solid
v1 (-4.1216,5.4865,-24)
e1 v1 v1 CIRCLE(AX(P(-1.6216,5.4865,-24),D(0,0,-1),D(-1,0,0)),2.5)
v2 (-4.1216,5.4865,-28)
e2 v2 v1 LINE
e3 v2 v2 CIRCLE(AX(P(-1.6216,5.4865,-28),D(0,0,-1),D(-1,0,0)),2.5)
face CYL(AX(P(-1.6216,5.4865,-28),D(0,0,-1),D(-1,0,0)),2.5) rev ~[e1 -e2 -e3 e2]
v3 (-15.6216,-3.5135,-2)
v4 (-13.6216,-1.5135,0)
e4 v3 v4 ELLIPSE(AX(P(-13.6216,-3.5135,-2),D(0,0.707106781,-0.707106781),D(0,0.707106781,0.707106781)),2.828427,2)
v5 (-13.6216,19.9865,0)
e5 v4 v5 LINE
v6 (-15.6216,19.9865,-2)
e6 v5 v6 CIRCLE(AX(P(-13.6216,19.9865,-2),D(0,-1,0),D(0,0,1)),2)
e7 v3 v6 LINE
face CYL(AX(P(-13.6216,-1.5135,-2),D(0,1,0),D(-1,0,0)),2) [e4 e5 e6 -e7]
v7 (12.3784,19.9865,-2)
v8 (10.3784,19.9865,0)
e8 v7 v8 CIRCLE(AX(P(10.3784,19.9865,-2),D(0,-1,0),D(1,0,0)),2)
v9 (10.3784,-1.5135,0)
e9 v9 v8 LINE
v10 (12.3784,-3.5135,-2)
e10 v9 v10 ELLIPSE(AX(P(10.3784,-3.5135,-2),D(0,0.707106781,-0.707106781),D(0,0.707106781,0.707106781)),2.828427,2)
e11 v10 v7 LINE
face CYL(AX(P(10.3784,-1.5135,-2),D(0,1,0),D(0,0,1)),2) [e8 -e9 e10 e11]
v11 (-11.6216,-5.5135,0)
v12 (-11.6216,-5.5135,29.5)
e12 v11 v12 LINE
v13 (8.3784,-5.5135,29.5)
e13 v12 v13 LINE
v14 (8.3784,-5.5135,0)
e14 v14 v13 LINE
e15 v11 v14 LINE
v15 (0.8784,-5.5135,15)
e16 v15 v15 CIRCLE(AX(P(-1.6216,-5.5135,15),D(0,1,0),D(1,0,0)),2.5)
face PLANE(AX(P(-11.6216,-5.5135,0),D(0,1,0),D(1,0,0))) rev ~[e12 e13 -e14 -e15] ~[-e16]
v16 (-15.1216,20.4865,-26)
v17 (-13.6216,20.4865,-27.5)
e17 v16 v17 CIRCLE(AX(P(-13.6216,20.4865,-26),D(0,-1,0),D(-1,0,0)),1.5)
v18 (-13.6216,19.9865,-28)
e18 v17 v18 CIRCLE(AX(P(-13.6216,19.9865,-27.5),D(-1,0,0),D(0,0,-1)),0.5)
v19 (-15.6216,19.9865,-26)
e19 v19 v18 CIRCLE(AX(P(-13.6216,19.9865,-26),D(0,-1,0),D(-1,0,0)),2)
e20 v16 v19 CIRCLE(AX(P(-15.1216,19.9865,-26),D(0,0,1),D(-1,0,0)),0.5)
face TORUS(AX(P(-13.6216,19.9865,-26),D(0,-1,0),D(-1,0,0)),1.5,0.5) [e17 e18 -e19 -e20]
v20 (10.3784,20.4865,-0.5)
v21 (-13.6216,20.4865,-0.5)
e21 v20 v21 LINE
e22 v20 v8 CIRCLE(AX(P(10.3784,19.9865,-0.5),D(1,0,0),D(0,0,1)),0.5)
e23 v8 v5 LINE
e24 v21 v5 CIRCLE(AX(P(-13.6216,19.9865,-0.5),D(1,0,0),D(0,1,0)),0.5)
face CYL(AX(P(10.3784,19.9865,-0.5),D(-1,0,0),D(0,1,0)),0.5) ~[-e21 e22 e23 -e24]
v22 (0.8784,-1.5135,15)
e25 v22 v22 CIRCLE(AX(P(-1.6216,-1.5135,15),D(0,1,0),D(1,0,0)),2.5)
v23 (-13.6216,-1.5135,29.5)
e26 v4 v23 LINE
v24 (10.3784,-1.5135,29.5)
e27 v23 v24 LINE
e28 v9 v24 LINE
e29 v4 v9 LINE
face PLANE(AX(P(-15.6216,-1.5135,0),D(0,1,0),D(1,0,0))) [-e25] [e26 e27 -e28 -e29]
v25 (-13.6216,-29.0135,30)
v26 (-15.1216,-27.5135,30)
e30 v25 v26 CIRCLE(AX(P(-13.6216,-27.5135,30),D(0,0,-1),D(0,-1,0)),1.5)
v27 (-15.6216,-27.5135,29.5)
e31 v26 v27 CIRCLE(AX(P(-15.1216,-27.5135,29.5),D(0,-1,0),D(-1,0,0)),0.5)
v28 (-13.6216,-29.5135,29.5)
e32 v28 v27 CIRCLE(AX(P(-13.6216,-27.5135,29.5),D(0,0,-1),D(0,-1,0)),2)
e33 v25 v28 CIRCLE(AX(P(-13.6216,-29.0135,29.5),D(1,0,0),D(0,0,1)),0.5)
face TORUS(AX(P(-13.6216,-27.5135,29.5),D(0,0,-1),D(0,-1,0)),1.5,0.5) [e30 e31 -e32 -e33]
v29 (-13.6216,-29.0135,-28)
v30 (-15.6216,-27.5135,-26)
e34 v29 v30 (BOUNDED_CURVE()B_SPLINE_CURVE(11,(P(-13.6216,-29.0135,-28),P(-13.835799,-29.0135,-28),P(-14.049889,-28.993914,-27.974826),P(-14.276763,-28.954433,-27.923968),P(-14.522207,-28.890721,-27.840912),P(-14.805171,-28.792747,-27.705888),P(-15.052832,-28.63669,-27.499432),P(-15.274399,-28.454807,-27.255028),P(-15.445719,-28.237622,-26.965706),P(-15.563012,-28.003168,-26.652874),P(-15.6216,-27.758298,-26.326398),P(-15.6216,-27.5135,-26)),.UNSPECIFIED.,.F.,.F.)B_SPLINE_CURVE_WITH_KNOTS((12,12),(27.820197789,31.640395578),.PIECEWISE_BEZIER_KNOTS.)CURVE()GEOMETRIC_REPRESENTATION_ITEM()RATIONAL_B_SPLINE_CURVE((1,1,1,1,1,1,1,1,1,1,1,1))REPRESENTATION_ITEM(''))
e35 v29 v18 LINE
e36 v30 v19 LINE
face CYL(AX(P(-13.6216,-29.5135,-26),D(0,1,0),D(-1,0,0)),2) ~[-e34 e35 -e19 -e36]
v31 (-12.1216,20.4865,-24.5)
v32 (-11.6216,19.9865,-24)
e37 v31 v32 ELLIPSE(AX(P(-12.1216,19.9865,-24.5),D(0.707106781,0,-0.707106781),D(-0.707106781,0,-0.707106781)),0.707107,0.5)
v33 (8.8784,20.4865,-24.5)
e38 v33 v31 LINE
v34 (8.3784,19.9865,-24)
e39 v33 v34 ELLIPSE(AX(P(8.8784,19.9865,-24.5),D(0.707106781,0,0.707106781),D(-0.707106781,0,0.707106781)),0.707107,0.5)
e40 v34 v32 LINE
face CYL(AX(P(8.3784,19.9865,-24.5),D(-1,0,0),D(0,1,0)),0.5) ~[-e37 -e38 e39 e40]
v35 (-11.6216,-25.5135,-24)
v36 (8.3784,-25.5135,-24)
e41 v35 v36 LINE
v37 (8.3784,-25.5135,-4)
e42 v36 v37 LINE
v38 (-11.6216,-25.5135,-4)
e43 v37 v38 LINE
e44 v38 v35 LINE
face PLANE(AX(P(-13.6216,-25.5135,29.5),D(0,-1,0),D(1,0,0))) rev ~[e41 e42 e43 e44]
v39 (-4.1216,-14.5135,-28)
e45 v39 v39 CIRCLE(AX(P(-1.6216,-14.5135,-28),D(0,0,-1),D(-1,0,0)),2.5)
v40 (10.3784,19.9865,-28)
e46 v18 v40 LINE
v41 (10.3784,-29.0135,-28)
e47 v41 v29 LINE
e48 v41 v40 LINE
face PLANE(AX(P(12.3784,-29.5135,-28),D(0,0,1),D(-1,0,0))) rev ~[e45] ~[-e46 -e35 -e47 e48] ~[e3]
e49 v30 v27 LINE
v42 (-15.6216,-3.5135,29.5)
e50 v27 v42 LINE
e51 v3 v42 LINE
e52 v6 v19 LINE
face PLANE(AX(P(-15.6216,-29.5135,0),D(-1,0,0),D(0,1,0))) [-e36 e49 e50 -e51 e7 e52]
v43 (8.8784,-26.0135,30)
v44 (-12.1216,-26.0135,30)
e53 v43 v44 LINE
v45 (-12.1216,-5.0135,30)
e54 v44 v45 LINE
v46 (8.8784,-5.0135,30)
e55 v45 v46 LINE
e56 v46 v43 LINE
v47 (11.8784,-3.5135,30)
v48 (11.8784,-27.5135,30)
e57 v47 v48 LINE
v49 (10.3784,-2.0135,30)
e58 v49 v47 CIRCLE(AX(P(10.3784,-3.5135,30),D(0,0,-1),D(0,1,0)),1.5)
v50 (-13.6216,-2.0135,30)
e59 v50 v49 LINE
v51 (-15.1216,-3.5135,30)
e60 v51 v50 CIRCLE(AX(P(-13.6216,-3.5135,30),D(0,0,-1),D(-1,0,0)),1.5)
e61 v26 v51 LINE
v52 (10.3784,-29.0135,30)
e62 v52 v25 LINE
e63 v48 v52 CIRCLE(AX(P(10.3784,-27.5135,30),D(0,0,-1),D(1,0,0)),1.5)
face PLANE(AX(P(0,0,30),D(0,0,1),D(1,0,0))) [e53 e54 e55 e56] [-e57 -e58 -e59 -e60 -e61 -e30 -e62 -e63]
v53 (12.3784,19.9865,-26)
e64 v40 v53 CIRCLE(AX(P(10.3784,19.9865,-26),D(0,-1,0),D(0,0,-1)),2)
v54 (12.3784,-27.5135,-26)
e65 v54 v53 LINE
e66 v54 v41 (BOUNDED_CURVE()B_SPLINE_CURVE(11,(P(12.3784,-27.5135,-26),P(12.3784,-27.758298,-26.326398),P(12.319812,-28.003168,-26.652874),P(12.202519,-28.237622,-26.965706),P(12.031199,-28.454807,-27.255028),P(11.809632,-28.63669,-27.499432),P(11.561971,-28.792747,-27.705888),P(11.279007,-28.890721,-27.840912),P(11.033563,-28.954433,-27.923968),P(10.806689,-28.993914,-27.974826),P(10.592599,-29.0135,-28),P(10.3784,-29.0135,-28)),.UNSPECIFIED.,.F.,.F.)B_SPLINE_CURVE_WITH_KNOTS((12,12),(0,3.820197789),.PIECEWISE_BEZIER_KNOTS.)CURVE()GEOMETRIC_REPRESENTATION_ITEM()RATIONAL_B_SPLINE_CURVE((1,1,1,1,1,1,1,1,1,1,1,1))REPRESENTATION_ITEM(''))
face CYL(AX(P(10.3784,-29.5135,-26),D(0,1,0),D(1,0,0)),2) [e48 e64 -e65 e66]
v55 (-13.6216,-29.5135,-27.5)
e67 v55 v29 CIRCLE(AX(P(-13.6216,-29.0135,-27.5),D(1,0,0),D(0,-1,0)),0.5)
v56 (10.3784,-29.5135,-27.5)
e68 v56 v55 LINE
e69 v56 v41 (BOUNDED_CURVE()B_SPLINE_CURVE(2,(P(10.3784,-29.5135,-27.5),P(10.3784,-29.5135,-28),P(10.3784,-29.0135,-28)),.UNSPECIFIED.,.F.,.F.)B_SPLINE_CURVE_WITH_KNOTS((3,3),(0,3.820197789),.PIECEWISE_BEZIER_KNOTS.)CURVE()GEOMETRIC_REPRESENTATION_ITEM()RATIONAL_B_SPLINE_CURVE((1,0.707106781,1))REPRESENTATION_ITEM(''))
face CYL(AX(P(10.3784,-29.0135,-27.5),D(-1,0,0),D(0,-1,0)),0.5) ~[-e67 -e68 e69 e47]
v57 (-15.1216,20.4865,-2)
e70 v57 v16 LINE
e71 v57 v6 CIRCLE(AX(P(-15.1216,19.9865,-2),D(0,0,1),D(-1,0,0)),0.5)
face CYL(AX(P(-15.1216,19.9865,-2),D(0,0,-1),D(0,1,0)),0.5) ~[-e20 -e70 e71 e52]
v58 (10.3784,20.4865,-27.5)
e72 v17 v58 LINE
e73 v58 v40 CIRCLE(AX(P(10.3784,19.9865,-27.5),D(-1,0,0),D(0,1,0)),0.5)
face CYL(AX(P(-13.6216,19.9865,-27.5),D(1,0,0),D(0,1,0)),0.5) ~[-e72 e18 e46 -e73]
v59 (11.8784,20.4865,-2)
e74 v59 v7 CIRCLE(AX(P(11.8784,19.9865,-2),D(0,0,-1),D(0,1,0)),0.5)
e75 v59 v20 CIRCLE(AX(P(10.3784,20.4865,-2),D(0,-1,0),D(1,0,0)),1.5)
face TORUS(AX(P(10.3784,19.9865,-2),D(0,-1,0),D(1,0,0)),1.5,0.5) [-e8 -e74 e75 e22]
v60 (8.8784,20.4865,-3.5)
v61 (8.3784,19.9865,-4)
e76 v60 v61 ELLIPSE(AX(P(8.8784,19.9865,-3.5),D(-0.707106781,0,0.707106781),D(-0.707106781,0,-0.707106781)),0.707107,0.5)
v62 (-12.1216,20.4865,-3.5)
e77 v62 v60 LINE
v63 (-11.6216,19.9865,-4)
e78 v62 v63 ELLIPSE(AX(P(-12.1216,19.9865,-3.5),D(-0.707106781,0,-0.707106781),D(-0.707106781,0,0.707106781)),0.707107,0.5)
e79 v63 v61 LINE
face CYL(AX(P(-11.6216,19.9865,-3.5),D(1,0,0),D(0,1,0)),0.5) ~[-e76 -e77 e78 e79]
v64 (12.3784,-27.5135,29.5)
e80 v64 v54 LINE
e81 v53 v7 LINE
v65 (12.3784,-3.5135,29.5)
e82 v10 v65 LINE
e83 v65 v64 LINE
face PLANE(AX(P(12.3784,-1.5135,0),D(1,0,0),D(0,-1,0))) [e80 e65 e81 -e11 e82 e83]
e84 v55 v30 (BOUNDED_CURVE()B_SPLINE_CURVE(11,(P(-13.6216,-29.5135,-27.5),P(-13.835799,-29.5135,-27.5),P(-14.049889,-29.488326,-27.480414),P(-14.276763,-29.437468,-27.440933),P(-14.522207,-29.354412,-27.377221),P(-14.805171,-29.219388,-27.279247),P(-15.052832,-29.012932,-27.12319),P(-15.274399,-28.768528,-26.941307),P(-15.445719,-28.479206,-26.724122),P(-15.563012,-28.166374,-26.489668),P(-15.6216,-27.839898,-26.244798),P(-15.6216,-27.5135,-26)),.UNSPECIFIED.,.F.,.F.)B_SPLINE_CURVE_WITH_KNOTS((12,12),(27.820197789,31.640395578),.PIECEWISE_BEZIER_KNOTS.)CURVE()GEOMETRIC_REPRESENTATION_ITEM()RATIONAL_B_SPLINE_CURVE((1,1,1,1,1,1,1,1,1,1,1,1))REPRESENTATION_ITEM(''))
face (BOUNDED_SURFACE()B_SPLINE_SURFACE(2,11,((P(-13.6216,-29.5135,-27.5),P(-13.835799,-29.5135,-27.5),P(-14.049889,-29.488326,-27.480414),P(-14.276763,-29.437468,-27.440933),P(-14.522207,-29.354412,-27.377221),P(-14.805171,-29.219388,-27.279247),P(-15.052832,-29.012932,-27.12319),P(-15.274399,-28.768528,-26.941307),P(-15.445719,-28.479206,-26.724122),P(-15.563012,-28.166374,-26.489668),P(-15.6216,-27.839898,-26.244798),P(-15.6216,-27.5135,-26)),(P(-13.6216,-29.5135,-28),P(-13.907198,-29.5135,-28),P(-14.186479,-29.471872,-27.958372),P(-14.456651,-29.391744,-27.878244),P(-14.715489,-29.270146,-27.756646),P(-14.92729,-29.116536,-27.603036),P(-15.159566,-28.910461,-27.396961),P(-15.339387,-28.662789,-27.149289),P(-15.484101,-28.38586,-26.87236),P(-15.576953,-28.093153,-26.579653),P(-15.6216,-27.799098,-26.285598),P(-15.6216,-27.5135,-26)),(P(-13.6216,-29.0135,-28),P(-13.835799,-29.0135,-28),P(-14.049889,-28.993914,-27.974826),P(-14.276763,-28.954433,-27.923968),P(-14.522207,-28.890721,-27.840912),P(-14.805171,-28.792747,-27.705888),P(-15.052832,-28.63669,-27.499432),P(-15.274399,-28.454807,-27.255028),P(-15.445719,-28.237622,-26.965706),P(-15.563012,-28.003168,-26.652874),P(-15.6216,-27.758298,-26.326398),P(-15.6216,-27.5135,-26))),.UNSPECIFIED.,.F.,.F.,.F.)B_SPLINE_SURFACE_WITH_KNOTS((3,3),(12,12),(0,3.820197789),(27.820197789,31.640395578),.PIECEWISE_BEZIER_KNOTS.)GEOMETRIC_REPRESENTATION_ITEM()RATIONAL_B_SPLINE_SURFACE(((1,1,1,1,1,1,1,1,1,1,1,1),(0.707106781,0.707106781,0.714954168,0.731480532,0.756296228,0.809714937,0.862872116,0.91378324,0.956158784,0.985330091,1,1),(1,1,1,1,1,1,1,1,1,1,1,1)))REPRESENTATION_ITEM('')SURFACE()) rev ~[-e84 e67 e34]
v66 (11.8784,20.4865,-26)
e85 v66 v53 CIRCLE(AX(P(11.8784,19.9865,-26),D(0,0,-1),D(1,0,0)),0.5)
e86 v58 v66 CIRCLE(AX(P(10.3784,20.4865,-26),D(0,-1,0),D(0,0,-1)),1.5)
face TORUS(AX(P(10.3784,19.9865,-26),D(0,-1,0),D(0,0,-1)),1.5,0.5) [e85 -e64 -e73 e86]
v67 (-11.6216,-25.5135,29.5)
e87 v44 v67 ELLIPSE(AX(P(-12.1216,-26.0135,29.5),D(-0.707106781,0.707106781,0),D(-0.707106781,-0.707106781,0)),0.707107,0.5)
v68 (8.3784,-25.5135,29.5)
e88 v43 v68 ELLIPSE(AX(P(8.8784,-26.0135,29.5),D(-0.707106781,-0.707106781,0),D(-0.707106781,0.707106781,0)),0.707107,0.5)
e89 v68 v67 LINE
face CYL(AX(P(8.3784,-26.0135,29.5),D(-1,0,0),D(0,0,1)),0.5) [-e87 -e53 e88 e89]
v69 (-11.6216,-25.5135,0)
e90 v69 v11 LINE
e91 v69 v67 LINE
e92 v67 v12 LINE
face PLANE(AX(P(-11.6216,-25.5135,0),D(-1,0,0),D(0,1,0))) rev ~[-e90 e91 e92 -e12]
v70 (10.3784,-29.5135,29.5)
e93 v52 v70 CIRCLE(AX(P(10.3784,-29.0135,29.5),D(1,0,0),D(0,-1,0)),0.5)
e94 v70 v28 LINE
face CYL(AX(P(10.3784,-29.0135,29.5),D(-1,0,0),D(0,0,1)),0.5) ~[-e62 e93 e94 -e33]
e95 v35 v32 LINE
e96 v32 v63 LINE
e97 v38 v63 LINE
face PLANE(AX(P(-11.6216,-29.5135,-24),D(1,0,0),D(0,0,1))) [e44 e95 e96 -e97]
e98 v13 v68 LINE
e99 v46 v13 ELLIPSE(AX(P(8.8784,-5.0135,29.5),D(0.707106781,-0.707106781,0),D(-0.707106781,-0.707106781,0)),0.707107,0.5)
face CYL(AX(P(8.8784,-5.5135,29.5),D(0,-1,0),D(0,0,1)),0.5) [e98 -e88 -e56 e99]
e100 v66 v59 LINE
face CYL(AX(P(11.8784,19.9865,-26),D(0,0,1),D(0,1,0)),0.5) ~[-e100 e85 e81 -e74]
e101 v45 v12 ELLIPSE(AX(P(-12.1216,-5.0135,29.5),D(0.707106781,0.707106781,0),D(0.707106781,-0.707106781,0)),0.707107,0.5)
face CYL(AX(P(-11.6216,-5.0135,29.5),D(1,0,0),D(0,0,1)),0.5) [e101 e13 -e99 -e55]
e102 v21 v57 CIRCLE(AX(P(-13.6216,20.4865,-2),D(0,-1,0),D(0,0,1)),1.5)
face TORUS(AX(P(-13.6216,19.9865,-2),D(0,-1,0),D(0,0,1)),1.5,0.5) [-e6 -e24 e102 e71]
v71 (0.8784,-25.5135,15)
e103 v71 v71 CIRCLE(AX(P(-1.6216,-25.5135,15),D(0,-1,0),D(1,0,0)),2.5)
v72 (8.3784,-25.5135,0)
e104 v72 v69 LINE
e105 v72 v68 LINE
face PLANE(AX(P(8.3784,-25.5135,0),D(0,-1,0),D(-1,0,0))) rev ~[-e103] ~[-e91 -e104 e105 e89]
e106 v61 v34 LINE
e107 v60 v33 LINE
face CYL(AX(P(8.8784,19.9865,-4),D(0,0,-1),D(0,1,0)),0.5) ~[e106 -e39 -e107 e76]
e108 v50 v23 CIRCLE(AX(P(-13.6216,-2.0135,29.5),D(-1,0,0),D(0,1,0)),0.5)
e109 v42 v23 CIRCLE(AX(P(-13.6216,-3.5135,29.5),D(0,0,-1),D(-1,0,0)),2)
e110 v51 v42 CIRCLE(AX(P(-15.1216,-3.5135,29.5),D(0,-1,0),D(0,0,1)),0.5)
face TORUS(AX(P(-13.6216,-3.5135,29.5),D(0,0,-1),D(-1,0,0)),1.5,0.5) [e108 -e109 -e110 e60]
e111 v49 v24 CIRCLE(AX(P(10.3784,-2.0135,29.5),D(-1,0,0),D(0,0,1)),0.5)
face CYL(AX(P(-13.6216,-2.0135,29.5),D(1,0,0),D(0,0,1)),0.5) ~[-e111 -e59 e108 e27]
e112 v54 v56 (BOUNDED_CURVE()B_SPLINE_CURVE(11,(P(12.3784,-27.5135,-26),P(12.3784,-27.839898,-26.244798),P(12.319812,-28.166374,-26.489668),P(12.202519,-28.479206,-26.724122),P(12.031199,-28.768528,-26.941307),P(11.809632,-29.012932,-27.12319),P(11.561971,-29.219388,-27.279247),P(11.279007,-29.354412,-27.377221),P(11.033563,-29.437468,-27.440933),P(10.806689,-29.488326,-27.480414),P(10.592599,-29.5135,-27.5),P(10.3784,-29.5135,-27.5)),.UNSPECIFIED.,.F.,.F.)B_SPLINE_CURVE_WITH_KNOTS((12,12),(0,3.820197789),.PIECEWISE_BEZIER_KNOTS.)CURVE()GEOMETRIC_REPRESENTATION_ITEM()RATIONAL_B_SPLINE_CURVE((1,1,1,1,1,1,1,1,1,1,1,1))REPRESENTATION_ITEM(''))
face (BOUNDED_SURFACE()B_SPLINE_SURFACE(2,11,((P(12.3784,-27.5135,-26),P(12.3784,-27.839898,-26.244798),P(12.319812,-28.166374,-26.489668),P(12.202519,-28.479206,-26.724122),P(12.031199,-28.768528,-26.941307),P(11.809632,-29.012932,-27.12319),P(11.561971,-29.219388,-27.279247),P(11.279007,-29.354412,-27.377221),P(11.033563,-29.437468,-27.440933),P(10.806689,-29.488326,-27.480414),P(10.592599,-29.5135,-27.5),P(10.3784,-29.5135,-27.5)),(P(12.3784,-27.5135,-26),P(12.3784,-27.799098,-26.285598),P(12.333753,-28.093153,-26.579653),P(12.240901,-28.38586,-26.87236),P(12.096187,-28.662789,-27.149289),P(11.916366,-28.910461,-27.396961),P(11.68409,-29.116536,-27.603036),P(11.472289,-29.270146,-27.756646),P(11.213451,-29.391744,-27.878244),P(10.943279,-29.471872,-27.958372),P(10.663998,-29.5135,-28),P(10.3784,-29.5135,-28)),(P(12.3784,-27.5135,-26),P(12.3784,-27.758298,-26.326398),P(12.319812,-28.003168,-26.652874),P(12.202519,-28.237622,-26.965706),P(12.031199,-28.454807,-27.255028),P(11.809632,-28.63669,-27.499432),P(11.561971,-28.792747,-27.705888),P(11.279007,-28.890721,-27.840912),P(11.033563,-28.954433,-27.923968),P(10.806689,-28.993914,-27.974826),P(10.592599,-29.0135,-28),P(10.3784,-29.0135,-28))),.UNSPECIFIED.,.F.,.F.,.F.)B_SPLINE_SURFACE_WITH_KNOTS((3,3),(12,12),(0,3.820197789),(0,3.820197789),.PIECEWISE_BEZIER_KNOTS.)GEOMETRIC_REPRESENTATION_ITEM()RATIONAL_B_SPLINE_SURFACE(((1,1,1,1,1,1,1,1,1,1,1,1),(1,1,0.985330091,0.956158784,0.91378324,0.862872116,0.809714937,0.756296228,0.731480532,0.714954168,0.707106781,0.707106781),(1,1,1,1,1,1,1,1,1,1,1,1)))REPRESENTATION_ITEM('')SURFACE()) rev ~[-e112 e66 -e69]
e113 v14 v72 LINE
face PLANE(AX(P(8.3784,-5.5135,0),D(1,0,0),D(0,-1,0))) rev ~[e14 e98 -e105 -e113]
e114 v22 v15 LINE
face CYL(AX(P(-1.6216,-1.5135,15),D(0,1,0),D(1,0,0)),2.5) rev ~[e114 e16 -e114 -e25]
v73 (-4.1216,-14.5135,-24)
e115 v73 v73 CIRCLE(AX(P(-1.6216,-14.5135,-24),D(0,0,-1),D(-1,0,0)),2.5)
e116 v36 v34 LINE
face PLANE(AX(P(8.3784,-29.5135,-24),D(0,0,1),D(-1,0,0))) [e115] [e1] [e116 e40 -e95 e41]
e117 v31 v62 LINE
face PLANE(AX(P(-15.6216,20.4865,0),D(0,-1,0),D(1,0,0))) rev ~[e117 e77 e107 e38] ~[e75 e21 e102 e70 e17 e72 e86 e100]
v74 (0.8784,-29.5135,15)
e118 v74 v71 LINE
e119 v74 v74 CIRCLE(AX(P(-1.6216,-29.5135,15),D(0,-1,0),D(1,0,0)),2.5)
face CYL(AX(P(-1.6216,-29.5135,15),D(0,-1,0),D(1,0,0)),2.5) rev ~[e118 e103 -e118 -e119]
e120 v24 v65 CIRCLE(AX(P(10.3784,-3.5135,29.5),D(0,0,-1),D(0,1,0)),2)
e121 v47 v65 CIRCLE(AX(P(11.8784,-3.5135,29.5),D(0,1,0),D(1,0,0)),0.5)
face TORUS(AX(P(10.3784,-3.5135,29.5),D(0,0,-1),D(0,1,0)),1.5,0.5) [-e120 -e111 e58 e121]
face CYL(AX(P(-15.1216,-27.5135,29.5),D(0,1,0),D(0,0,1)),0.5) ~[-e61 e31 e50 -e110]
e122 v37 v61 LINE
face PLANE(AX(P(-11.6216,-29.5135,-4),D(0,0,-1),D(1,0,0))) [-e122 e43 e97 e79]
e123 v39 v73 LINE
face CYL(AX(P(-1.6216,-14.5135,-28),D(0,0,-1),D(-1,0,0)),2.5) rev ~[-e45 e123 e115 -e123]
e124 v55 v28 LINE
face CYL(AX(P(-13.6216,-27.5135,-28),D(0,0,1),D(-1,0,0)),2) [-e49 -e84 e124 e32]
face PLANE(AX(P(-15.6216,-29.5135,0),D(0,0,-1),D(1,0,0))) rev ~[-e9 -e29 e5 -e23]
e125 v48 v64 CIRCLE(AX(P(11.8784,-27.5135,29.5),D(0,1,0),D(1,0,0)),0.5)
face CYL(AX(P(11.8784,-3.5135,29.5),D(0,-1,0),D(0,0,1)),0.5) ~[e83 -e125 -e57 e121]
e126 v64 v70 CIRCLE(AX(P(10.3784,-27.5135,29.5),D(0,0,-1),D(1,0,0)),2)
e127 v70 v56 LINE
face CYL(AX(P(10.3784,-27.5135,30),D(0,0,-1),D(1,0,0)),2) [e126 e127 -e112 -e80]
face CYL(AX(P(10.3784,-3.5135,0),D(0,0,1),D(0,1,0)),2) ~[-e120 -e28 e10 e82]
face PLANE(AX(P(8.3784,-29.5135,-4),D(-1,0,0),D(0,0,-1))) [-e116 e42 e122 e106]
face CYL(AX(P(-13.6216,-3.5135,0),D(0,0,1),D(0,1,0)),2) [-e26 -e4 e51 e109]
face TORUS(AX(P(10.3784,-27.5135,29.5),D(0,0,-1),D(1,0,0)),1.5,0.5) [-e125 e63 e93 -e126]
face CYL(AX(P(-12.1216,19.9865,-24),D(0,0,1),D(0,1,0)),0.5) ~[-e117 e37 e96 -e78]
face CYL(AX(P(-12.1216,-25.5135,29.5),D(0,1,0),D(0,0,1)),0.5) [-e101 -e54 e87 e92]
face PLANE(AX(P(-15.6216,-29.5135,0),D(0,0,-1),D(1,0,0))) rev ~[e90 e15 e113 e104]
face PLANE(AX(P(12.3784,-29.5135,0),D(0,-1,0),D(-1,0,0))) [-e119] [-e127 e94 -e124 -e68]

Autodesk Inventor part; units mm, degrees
sketch "Sketch1" plane through (0, 0, 0) normal (0, 0, 1) x (1, 0, 0)
  line L0 (-11.6216, -5.5135) -> (8.3784, -5.5135)
  line L1 (8.3784, -5.5135) -> (8.3784, -25.5135)
  line L2 (8.3784, -25.5135) -> (-11.6216, -25.5135)
  line L3 (-11.6216, -25.5135) -> (-11.6216, -5.5135)
  line L4 (-15.6216, -1.5135) -> (12.3784, -1.5135)
  line L5 (12.3784, -1.5135) -> (12.3784, -29.5135)
  line L6 (12.3784, -29.5135) -> (-15.6216, -29.5135)
  line L7 (-15.6216, -29.5135) -> (-15.6216, -1.5135)
  point P0 (0, 0)
  dimension "d0" = 20
  dimension "d1" = 20
  dimension "d2" = 4
  dimension "d3" = 4
  dimension "d4" = 4
  dimension "d5" = 4
extrude "Extrusion1" add sketch "Sketch1" along normal blind 30
ref_plane "Work Plane3" through (-15.6216, -29.5135, 0) normal (0, -1, 0) x (1, 0, 0)
sketch "Sketch2" plane through (-15.6216, -29.5135, 0) normal (0, -1, 0) x (1, 0, 0)
  line L0 (0, 0) -> (28, 0)
  line L1 (28, 0) -> (28, -28)
  line L2 (28, -28) -> (0, -28)
  line L3 (0, -28) -> (0, 0)
  line L4 (24, -24) -> (4, -24)
  line L5 (4, -24) -> (4, -4)
  line L6 (4, -4) -> (24, -4)
  line L7 (24, -4) -> (24, -24)
  point P0 (15.6216, 0)
  point P1 (0, -14)
  dimension "d10" = 28
  dimension "d11" = 28
  dimension "d12" = 4
  dimension "d13" = 4
  dimension "d14" = 4
  dimension "d15" = 4
extrude "Extrusion2" add sketch "Sketch2" against normal blind 50
ref_plane "Work Plane4" through (12.3784, -29.5135, -28) normal (0, 0, -1) x (-1, 0, 0)
sketch "Sketch3" plane through (12.3784, -29.5135, -28) normal (0, 0, -1) x (-1, 0, 0)
  circle A0 centre (14, 35) radius 2.5
  circle A1 centre (14, 15) radius 2.5
  line L0 (28, 0) -> (28, 50) projected
  line L1 (28, 0) -> (0, 0) projected
  point P0 (12.3784, 29.5135)
  dimension "d19" = 14
  dimension "d20" = 14
  dimension "d21" = 20
  dimension "d22" = 15
  dimension "d23" = 5
  dimension "d24" = 5
ref_plane "Work Plane5" through (-15.6216, -1.5135, 30) normal (0, 1, 0) x (1, 0, 0)
sketch "Sketch4" plane through (-15.6216, -1.5135, 30) normal (0, 1, 0) x (1, 0, 0)
  circle A0 centre (14, 15) radius 2.5
  line L0 (28, 30) -> (28, 0) projected
  line L1 (28, 0) -> (0, 0) projected
  point P0 (15.6216, 30)
  dimension "d26" = 5
  dimension "d27" = 14
  dimension "d28" = 15
ref_plane "Work Plane6" through (-15.6216, -29.5135, 30) normal (0, -1, 0) x (1, 0, 0)
sketch "Sketch5" plane through (-15.6216, -29.5135, 30) normal (0, -1, 0) x (1, 0, 0)
  circle A0 centre (14, -15) radius 2.5
  line L0 (0, -30) -> (0, 0) projected
  line L1 (24, 0) -> (4, 0) projected
  point P0 (15.6216, -30)
  dimension "d30" = 5
  dimension "d31" = 14
  dimension "d32" = 15
extrude "Extrusion3" cut sketch "Sketch4" against normal blind 4
extrude "Extrusion4" cut sketch "Sketch5" against normal blind 4
extrude "Extrusion5" cut sketch "Sketch3" against normal blind 4
fillet "Fillet1" radius 2 8 edges at (12.3784, -1.5135, 15) (12.3784, 9.4865, 0) (12.3784, -29.5135, 1) (12.3784, -4.5135, -28) (-15.6216, 9.4865, 0) (-15.6216, -1.5135, 15) (-15.6216, -4.5135, -28) (-15.6216, -29.5135, 1)
fillet "Fillet2" radius 0.5 31 edges at (-1.6216, -29.5135, -24) (8.3784, -29.5135, -14) (-11.6216, -29.5135, -14) (-1.6216, -29.5135, -4) (11.7926, -28.9277, -27.4142) (-15.0358, -28.9277, -27.4142) (-1.6216, -29.5135, -28) (-1.6216, 20.4865, -24) (-11.6216, 20.4865, -14) (8.3784, 20.4865, -14) (-1.6216, 20.4865, -4) (-15.0358, 20.4865, -27.4142) (-15.6216, 20.4865, -14) (-15.0358, 20.4865, -0.5858) (-1.6216, 20.4865, 0) (11.7926, 20.4865, -0.5858) (12.3784, 20.4865, -14) (11.7926, 20.4865, -27.4142) (-1.6216, 20.4865, -28) (-1.6216, -25.5135, 30) (8.3784, -15.5135, 30) (-1.6216, -5.5135, 30) (-11.6216, -15.5135, 30) (11.7926, -28.9277, 30) (12.3784, -15.5135, 30) (11.7926, -2.0993, 30) (-1.6216, -1.5135, 30) (-15.0358, -2.0993, 30) (-15.6216, -15.5135, 30) (-15.0358, -28.9277, 30) (-1.6216, -29.5135, 30)
ref_plane "Work Plane7" through (-13.6216, -29.5135, 29.5) normal (0, -1, 0) x (1, 0, 0)
sketch "Sketch6" plane through (-13.6216, -29.5135, 29.5) normal (0, -1, 0) x (1, 0, 0)
  line L0 (23.2157, -54.9948) -> (0.8161, -54.9948)
  line L1 (0.8161, -54.9948) -> (0.8161, -31.6008)
  line L2 (0.8161, -31.6008) -> (23.2157, -31.6008)
  line L3 (23.2157, -31.6008) -> (23.2157, -54.9948)
  point P0 (13.6216, -29.5)
extrude "Extrusion6" add sketch "Sketch6" against normal blind 4
properties part number "fixed_joint"
